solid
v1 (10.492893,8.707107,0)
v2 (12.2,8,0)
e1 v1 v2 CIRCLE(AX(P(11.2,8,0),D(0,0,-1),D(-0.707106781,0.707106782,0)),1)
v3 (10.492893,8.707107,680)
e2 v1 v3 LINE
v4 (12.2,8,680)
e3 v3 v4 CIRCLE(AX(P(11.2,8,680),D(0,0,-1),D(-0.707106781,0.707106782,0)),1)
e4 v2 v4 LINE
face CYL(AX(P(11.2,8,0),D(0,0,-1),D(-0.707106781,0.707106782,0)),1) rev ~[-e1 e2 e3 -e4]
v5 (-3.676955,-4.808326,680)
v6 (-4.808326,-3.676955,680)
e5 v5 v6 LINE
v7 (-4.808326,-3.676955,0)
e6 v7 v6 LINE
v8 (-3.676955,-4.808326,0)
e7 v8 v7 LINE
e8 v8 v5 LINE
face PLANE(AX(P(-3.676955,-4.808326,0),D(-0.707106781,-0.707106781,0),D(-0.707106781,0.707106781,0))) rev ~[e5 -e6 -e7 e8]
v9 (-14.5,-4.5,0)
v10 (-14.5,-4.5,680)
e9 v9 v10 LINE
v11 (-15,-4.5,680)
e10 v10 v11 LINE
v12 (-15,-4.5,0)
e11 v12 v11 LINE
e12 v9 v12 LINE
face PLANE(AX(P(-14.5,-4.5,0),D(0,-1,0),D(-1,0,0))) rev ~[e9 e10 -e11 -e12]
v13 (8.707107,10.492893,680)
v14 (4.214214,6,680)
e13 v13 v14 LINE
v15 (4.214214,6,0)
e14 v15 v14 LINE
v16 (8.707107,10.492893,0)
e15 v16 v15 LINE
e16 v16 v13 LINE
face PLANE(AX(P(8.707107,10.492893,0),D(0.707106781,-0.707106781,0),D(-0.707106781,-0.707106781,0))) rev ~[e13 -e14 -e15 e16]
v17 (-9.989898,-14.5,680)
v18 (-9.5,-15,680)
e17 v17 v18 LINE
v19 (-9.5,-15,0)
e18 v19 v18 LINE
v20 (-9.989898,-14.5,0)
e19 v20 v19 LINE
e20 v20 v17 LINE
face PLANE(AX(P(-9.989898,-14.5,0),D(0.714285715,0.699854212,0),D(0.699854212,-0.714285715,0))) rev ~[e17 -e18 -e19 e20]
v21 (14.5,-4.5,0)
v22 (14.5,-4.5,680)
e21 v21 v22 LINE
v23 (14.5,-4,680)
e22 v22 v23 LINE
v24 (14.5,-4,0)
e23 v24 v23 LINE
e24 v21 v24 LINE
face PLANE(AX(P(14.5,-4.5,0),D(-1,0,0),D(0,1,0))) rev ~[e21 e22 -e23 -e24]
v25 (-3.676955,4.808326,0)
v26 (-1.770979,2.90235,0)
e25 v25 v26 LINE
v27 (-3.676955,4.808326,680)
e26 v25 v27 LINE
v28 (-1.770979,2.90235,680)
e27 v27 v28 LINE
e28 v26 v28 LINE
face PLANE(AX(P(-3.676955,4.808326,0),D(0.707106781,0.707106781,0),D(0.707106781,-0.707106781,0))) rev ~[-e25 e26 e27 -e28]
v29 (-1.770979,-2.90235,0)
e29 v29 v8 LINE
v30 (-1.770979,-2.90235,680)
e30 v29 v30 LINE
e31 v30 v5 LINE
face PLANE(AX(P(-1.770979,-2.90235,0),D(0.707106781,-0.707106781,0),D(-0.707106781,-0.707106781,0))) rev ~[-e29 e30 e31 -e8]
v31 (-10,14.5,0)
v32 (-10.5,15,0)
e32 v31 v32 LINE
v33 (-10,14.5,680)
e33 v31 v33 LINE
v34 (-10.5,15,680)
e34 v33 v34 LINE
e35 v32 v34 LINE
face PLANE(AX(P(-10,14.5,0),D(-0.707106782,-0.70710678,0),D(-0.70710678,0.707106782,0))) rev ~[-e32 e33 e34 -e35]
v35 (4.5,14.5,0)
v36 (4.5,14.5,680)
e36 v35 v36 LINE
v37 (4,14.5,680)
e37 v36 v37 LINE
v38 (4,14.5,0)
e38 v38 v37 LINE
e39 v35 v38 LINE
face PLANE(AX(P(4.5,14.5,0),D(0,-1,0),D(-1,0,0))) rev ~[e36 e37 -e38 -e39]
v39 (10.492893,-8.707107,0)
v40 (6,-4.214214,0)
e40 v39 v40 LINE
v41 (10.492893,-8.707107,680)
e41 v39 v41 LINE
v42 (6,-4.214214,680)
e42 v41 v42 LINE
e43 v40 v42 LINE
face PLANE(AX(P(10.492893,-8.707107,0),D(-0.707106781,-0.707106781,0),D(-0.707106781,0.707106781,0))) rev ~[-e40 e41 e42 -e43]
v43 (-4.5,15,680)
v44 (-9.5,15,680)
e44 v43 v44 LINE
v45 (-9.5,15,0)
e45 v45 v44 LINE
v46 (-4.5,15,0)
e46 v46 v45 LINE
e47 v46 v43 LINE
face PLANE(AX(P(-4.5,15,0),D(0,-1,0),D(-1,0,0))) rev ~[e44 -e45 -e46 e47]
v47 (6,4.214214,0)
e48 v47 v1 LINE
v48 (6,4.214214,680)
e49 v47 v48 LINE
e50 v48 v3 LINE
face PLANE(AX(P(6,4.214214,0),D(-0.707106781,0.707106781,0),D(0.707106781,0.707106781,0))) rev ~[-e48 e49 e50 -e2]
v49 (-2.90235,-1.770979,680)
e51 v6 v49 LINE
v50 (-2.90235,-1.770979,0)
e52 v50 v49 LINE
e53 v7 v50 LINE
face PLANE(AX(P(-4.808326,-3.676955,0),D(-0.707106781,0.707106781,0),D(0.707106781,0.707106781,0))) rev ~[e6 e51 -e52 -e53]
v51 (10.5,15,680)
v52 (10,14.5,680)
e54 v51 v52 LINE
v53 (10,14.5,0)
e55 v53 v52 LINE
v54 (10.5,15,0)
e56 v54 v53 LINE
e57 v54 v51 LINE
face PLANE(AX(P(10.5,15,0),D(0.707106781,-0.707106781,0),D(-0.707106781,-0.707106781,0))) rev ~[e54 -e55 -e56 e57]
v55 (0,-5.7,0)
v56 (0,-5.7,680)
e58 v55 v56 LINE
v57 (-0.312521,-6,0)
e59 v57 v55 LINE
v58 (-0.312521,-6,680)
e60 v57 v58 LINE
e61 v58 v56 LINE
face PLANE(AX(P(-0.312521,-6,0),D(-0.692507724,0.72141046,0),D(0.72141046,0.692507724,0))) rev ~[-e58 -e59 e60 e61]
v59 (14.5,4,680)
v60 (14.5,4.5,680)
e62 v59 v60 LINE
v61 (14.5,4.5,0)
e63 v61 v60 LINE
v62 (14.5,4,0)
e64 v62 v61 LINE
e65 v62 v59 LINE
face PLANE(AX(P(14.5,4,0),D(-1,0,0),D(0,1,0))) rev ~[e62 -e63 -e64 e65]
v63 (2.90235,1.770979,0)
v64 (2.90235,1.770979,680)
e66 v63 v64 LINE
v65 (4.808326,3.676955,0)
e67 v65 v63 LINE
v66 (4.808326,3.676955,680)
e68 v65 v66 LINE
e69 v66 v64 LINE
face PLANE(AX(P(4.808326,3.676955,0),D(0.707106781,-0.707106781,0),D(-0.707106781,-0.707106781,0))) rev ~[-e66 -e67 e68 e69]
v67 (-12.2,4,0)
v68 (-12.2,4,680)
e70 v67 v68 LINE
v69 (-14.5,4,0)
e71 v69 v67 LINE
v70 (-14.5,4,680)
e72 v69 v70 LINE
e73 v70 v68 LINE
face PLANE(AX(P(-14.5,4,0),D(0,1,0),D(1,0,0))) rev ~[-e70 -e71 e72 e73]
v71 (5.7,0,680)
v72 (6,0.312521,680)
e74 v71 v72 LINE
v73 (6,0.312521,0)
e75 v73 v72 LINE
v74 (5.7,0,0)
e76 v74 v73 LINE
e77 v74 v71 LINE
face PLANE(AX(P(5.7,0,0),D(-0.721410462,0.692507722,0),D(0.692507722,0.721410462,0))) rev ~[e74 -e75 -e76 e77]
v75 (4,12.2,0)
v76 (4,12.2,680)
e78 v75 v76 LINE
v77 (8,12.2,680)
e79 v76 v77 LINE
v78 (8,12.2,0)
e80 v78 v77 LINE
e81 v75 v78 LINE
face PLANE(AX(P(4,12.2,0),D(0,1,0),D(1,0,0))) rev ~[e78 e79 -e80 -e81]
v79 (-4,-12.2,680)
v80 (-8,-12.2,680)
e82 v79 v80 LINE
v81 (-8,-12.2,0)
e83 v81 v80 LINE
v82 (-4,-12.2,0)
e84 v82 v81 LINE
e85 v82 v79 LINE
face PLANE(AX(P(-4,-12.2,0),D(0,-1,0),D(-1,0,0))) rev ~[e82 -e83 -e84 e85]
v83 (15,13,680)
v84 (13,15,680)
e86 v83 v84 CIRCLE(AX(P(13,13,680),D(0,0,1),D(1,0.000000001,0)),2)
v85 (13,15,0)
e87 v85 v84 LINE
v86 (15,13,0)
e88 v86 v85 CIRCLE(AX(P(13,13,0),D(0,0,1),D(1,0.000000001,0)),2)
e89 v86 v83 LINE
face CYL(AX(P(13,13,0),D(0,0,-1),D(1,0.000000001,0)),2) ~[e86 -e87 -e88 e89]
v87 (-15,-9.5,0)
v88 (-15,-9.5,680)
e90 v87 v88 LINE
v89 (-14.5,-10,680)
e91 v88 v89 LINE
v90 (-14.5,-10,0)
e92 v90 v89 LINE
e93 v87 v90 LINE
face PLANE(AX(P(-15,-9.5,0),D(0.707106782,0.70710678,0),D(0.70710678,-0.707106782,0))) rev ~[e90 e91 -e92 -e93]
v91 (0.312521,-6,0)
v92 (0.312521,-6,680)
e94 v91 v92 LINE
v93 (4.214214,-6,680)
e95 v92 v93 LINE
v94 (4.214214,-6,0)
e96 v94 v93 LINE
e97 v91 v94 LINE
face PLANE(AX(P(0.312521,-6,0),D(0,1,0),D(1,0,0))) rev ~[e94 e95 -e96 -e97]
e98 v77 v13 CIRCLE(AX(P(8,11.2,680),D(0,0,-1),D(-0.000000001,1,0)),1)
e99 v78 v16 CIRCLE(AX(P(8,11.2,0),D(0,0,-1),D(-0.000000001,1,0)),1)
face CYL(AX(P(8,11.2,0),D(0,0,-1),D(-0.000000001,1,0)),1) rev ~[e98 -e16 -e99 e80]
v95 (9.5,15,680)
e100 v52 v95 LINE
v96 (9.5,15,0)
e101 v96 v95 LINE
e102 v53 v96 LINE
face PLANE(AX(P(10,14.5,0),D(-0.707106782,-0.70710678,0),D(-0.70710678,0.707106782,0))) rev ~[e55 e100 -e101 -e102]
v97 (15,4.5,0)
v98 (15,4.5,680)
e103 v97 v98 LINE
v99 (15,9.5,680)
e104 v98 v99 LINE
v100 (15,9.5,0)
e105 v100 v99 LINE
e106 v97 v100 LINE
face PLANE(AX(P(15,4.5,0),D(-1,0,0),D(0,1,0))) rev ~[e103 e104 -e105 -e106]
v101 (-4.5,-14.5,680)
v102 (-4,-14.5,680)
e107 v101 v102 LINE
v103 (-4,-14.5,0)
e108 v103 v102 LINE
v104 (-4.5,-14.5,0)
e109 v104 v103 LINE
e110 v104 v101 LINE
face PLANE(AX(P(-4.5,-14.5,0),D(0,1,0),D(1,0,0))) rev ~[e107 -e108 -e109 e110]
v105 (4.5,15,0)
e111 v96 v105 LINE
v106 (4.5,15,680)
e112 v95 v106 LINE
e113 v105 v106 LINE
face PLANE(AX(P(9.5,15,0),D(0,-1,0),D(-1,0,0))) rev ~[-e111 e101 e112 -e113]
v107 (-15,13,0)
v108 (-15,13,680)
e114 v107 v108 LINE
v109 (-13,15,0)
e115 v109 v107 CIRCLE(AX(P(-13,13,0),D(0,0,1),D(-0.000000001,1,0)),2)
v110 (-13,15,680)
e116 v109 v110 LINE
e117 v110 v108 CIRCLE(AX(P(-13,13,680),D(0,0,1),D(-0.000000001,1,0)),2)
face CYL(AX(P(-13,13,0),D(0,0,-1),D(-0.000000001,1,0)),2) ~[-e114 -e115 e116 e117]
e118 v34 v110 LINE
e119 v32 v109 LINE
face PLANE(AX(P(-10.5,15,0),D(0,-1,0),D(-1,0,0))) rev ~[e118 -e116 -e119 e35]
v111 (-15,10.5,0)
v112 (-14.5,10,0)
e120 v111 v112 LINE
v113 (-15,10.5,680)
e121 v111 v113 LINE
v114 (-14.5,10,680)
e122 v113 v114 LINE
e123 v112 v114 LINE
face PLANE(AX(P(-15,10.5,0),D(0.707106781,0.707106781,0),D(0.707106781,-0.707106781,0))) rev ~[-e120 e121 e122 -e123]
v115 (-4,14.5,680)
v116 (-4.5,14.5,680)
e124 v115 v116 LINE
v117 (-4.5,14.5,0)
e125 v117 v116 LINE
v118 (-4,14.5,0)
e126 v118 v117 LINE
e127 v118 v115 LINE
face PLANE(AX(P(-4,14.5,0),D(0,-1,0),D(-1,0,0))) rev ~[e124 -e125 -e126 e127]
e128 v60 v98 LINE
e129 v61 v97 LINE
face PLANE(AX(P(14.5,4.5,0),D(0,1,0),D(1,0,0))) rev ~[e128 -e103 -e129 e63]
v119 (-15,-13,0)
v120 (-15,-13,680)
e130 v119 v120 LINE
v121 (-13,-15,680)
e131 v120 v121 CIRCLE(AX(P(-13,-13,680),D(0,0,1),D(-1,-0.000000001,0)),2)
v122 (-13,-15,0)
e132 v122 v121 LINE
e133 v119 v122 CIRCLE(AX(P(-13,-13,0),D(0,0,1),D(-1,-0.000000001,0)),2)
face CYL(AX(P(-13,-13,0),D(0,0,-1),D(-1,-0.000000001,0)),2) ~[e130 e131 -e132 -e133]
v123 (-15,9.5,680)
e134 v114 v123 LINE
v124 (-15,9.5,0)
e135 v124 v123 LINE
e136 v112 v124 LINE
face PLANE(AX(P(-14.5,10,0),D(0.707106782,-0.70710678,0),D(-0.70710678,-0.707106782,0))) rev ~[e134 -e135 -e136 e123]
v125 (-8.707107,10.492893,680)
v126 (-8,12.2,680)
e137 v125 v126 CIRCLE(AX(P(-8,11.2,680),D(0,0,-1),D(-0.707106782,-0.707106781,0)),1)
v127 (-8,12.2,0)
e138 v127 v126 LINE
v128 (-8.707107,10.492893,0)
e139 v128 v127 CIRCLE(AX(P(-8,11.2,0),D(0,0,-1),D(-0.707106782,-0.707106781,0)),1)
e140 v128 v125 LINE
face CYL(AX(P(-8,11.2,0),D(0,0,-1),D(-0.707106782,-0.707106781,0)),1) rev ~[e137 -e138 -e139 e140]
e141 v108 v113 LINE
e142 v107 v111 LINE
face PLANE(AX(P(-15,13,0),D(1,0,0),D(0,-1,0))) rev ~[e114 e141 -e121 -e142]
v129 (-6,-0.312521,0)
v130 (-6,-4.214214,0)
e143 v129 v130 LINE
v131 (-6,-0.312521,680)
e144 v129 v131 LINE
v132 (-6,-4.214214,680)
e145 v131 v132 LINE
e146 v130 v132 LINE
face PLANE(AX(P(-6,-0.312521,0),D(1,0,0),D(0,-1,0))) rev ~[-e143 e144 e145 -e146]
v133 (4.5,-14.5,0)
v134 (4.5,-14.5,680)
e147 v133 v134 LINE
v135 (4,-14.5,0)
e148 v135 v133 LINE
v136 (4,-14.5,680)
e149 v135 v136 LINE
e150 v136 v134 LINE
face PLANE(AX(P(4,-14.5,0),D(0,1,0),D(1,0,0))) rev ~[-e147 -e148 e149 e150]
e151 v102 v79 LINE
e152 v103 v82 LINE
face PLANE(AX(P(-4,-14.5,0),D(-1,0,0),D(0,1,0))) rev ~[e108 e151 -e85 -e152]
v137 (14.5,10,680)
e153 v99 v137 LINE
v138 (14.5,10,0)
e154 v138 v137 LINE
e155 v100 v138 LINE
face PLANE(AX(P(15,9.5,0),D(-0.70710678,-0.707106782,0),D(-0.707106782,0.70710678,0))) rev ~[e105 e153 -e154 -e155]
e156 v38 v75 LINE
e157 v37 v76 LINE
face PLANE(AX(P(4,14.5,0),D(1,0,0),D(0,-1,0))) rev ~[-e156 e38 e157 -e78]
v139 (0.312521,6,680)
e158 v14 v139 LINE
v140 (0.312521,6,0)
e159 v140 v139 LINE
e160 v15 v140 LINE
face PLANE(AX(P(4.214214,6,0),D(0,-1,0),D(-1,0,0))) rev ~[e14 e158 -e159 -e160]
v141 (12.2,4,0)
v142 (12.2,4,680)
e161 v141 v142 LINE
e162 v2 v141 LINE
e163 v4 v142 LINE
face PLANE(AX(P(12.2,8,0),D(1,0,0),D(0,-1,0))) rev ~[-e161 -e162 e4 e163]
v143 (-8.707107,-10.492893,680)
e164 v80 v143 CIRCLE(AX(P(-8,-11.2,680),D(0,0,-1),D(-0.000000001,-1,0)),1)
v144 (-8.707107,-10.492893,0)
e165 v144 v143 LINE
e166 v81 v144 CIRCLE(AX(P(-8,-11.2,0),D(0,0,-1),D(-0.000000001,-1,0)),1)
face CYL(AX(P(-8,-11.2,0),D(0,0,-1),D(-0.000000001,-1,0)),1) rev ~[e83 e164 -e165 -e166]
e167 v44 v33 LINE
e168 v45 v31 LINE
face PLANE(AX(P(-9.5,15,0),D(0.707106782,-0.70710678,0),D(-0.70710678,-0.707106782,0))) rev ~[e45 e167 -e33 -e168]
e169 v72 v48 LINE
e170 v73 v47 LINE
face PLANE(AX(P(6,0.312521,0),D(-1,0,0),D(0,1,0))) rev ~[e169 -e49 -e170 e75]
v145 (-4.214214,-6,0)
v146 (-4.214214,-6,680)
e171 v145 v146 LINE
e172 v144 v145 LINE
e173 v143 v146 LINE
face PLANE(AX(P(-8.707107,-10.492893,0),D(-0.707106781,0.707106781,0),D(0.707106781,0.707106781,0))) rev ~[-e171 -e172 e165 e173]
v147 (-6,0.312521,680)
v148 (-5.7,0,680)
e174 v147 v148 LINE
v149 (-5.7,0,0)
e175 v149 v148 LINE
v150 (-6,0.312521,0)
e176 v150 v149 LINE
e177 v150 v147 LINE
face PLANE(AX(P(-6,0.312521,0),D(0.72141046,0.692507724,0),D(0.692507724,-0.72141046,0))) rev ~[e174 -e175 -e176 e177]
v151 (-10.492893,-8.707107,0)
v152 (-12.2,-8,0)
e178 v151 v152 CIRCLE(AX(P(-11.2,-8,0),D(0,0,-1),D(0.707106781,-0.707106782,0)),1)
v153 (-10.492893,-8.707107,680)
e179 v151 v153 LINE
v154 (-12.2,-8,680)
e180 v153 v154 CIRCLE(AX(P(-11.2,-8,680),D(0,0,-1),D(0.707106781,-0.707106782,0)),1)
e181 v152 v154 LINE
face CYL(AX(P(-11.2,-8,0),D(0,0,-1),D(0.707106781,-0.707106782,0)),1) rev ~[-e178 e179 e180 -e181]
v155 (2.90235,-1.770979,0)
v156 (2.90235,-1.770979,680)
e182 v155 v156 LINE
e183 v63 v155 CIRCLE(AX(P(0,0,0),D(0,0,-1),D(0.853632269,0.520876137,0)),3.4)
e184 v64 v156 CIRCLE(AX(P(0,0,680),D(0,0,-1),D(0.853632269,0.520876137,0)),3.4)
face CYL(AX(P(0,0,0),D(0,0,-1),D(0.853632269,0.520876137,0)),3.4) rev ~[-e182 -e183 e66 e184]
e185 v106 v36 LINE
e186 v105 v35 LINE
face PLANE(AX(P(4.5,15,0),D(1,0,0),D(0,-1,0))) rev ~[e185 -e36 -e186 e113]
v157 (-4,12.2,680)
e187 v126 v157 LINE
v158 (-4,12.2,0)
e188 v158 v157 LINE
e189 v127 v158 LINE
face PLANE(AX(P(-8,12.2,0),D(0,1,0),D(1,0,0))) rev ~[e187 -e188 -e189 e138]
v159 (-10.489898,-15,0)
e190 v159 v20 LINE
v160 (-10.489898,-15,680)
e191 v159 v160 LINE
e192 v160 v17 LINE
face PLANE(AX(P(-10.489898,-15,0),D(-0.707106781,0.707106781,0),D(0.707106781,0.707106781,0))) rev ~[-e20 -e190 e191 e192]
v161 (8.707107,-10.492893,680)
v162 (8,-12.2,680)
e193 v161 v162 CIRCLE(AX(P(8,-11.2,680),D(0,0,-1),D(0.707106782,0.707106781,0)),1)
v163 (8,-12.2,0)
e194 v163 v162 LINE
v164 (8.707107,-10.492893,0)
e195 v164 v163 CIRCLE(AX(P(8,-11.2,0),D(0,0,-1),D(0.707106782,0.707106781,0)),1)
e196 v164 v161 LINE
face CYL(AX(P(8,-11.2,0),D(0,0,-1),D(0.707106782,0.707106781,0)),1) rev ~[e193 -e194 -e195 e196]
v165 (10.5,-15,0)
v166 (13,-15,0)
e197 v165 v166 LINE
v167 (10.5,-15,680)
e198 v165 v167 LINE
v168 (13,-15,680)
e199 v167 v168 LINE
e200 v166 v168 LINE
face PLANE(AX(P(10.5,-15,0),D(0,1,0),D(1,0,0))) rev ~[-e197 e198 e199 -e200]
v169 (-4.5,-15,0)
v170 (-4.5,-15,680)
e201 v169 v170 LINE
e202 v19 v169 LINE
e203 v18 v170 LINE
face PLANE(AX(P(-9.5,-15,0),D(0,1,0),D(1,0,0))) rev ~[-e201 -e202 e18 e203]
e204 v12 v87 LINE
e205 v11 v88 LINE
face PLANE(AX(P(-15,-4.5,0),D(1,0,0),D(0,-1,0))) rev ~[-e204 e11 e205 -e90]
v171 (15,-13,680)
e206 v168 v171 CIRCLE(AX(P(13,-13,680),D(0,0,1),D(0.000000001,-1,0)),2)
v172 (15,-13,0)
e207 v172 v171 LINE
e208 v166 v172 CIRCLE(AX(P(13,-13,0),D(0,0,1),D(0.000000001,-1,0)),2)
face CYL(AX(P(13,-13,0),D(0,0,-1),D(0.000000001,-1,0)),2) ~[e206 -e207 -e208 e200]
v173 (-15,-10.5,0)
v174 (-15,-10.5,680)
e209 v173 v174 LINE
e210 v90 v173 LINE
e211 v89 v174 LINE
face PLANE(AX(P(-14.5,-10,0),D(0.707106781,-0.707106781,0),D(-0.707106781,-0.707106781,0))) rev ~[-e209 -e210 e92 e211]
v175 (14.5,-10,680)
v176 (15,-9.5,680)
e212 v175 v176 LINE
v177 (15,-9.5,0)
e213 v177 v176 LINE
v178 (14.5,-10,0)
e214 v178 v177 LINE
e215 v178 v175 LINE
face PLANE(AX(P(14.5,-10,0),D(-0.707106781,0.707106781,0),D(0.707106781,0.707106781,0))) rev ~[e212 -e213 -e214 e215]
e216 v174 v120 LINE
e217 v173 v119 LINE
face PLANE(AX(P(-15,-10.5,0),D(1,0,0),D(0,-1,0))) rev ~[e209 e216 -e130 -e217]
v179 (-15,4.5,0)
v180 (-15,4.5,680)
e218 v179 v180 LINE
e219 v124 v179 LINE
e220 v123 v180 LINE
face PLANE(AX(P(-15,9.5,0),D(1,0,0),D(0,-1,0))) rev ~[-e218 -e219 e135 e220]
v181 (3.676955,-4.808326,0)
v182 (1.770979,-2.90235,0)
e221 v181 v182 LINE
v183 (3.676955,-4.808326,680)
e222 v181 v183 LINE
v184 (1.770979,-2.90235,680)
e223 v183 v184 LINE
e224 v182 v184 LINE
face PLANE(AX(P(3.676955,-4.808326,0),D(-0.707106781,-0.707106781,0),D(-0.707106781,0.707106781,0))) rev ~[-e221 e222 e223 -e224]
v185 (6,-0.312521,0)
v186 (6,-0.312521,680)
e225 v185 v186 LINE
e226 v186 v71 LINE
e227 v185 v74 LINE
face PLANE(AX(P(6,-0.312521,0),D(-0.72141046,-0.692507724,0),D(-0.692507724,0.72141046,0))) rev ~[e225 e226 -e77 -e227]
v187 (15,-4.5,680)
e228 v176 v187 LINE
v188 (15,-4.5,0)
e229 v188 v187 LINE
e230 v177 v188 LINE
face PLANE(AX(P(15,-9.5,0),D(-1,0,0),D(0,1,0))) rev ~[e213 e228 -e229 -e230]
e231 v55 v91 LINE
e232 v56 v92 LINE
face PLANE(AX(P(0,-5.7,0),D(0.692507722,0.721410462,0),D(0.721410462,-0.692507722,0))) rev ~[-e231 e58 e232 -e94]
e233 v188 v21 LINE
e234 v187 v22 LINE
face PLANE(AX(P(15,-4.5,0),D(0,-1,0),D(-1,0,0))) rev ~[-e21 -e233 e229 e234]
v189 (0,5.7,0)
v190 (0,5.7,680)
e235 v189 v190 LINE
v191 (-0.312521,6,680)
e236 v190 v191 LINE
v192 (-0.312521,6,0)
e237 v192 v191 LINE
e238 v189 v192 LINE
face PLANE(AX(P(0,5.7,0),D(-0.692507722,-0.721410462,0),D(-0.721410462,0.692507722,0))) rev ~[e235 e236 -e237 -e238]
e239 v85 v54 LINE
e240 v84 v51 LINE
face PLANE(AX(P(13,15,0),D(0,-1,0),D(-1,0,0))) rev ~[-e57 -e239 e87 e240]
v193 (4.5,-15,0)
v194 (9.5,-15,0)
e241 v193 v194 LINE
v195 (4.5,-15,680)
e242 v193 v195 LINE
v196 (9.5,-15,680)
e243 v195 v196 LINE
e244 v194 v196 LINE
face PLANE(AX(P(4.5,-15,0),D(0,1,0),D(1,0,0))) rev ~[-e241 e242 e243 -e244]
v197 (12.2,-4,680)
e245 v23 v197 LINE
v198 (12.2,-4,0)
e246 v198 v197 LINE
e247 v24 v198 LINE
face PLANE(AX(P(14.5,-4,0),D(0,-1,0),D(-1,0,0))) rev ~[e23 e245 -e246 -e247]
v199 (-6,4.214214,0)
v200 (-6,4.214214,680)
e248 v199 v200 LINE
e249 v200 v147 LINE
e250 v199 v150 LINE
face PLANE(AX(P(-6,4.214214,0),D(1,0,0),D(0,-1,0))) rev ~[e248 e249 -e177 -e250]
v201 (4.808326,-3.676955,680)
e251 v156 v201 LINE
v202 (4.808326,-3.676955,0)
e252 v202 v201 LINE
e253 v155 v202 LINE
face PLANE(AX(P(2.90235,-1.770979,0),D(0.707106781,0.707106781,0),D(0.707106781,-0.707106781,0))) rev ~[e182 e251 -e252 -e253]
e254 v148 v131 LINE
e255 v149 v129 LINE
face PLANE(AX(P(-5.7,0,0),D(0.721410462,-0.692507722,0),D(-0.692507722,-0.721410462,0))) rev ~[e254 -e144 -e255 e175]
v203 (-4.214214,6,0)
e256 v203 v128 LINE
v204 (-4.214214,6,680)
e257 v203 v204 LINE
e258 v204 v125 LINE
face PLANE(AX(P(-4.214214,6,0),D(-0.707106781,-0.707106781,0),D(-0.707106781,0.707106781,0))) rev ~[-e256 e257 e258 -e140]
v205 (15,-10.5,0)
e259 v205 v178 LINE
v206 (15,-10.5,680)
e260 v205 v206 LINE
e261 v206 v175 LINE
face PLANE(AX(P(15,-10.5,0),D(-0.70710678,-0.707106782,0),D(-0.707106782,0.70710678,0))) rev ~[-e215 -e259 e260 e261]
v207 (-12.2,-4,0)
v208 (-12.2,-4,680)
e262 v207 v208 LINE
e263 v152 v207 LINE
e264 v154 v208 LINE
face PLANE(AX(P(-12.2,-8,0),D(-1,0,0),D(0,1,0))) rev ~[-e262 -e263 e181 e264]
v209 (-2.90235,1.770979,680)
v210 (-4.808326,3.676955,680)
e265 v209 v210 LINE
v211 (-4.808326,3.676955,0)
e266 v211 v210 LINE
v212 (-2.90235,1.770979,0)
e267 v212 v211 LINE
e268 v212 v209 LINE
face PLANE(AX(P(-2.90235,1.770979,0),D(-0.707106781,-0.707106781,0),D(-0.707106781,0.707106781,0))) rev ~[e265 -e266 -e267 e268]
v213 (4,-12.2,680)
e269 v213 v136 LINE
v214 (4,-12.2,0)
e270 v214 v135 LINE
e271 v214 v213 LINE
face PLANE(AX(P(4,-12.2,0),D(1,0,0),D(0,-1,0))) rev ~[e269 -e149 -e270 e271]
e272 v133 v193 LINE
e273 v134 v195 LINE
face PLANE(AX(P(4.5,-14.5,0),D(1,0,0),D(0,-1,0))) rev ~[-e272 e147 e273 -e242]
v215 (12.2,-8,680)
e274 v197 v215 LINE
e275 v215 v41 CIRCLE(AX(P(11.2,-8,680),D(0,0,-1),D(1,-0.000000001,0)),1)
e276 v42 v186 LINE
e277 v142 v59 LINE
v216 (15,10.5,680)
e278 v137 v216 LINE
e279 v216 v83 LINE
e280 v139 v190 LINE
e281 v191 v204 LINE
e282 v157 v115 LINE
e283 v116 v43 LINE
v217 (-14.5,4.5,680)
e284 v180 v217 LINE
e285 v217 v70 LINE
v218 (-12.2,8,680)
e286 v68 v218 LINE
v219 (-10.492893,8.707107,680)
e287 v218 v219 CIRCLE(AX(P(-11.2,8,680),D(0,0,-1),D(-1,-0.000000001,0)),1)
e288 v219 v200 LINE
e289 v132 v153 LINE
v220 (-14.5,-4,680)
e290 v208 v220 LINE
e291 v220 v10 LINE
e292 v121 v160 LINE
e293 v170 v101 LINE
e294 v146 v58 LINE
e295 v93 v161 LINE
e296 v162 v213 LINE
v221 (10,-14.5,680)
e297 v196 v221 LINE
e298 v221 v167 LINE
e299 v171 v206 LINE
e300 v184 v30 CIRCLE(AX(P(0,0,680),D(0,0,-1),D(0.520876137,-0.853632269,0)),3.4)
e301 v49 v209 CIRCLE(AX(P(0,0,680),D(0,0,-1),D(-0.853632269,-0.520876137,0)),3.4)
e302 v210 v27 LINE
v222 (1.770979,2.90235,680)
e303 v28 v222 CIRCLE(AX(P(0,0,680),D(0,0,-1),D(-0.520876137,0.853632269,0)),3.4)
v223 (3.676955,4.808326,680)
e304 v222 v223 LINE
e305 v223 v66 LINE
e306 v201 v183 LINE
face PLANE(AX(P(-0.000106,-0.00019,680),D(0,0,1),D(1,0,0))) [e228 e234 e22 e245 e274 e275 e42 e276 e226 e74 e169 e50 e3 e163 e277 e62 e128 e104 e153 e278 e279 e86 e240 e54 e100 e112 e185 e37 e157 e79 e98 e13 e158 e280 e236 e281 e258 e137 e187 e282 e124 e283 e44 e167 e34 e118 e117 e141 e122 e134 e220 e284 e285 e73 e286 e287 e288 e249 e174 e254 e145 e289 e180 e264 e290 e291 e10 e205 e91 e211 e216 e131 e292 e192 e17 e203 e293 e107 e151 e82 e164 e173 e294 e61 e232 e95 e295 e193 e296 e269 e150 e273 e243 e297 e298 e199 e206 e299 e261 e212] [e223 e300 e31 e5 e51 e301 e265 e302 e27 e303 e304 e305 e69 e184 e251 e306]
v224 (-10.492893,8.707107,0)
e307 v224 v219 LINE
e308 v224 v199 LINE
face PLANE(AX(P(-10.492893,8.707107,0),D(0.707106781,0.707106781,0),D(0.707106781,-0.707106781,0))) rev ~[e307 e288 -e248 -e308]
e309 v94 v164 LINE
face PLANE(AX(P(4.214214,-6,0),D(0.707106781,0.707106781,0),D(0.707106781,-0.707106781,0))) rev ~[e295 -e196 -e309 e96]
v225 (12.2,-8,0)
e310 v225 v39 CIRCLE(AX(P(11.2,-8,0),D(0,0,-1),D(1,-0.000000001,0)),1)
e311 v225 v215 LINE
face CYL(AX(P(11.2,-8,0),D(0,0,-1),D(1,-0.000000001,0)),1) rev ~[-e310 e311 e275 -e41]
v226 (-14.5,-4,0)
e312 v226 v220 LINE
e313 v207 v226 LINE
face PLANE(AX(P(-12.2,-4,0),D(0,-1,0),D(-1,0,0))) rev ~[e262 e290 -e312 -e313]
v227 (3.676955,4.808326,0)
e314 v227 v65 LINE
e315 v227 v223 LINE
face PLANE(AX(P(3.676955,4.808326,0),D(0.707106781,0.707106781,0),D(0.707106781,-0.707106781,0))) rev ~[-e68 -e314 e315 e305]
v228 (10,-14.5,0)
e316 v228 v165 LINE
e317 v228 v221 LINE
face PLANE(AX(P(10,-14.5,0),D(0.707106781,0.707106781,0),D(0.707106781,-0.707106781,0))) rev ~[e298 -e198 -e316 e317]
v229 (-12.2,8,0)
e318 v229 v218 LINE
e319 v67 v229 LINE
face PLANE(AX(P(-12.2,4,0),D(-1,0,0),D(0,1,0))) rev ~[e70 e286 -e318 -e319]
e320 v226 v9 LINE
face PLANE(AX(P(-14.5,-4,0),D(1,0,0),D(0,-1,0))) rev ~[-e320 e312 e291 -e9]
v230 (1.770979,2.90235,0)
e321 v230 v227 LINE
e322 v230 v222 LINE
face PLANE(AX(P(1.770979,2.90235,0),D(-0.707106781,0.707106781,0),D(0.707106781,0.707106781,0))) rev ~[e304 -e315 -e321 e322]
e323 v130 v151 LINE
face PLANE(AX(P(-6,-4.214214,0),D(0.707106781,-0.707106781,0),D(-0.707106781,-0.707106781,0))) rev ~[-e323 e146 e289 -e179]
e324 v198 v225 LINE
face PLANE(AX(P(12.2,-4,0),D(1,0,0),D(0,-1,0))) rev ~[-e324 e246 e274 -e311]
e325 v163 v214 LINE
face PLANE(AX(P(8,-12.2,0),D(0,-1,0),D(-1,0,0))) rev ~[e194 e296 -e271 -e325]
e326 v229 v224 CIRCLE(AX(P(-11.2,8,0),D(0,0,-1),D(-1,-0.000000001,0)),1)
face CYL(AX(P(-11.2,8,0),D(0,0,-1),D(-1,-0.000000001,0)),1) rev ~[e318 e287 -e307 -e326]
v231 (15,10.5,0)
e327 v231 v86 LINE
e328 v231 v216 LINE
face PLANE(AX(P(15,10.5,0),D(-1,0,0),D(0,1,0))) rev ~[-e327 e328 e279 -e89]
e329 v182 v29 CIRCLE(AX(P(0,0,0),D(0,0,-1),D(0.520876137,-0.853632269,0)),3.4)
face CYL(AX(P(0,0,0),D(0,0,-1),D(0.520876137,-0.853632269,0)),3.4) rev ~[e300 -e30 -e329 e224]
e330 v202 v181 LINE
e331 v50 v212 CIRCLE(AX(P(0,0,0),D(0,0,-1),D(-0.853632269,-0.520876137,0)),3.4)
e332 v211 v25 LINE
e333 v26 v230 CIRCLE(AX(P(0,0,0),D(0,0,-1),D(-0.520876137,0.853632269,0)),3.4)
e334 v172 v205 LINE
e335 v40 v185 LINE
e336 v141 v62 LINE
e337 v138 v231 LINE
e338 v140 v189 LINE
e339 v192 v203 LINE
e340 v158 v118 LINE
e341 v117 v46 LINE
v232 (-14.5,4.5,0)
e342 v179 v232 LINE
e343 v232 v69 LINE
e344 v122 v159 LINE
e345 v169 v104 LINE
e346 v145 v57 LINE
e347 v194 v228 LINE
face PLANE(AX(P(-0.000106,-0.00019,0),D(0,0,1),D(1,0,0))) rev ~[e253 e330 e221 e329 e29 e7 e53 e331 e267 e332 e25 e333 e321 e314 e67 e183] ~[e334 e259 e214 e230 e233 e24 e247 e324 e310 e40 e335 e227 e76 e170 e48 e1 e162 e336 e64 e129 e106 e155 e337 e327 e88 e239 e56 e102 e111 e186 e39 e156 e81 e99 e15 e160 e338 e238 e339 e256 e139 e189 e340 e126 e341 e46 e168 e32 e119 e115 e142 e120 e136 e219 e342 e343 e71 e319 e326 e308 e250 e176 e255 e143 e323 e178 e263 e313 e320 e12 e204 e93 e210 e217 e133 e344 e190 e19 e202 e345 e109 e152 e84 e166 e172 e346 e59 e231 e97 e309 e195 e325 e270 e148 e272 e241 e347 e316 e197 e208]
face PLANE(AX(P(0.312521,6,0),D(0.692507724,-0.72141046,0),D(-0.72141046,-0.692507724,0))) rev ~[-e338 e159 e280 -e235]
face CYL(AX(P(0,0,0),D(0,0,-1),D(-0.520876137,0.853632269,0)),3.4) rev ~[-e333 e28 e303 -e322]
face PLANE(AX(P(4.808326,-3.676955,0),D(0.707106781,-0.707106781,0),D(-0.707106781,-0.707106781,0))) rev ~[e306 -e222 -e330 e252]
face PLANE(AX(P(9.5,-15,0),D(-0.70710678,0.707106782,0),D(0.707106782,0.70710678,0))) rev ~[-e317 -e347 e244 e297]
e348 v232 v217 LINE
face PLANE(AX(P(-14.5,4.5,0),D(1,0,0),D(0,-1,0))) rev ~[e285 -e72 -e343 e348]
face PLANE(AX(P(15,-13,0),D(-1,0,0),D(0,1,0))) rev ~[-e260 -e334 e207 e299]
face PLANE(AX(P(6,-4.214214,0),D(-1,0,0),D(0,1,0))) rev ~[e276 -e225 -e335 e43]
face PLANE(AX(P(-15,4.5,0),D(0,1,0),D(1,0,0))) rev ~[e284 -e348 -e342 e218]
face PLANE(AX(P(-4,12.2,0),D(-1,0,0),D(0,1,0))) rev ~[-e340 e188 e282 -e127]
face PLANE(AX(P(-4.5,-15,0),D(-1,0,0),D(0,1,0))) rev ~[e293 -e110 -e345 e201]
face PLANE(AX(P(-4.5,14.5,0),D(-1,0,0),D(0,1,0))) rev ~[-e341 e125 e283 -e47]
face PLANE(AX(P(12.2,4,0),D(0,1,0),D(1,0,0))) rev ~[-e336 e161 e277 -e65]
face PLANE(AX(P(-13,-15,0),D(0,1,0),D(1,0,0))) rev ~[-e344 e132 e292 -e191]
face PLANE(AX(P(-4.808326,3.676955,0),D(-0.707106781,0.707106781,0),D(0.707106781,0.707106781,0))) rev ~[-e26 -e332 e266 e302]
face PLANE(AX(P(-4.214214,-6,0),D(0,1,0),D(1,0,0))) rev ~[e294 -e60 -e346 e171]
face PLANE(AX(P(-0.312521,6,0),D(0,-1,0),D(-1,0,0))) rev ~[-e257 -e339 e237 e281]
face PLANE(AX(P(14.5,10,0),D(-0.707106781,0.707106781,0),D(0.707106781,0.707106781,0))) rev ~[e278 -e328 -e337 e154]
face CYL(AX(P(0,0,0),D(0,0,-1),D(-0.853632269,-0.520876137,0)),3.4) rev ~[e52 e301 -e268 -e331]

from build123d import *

# Parameters (mm, degrees)
BOSS_EXTRUDE1_DEPTH = 680


with BuildPart() as part:
    # Sketch1 → Boss-Extrude1 (new body)
    with BuildSketch(Plane.XY):
        with BuildLine():
            Line((12.999999999, 14.999999999), (10.499999999, 14.999999999))
            Line((10.499999999, 14.999999999), (9.999999999, 14.499999999))
            Line((9.999999999, 14.499999999), (9.5, 14.999999999))
            Line((9.5, 14.999999999), (4.5, 14.999999999))
            Line((4.5, 14.999999999), (4.5, 14.5))
            Line((4.5, 14.5), (4, 14.5))
            Line((4, 14.5), (4, 12.200000005))
            Line((4, 12.200000005), (7.999999994, 12.200000005))
            ThreePointArc((7.999999994, 12.200000005), (8.923879532, 11.582683434), (8.707106779, 10.492893215))
            Line((8.707106779, 10.492893215), (4.214213564, 6))
            Line((4.214213564, 6), (0.312520901, 6))
            Line((0.312520901, 6), (0, 5.7))
            Line((0, 5.7), (-0.312520903, 6))
            Line((-0.312520903, 6), (-4.214213564, 6))
            Line((-4.214213564, 6), (-8.70710678, 10.492893215))
            ThreePointArc((-8.70710678, 10.492893215), (-8.923879532, 11.582683434), (-7.999999995, 12.200000005))
            Line((-7.999999995, 12.200000005), (-4, 12.200000005))
            Line((-4, 12.200000005), (-4, 14.5))
            Line((-4, 14.5), (-4.5, 14.5))
            Line((-4.5, 14.5), (-4.5, 14.999999999))
            Line((-4.5, 14.999999999), (-9.500000003, 14.999999999))
            Line((-9.500000003, 14.999999999), (-10.000000002, 14.499999999))
            Line((-10.000000002, 14.499999999), (-10.500000001, 14.999999999))
            Line((-10.500000001, 14.999999999), (-13, 14.999999999))
            ThreePointArc((-13, 14.999999999), (-14.414213562, 14.414213561), (-15, 12.999999999))
            Line((-15, 12.999999999), (-15, 10.5))
            Line((-15, 10.5), (-14.500000001, 10.000000001))
            Line((-14.500000001, 10.000000001), (-15, 9.500000001))
            Line((-15, 9.500000001), (-15, 4.5))
            Line((-15, 4.5), (-14.5, 4.5))
            Line((-14.5, 4.5), (-14.5, 4))
            Line((-14.5, 4), (-12.200000005, 4))
            Line((-12.200000005, 4), (-12.200000005, 7.999999994))
            ThreePointArc((-12.200000005, 7.999999994), (-11.582683434, 8.923879532), (-10.492893215, 8.707106779))
            Line((-10.492893215, 8.707106779), (-6, 4.214213564))
            Line((-6, 4.214213564), (-6, 0.312520901))
            Line((-6, 0.312520901), (-5.7, 0))
            Line((-5.7, 0), (-6, -0.312520903))
            Line((-6, -0.312520903), (-6, -4.214213564))
            Line((-6, -4.214213564), (-10.492893215, -8.70710678))
            ThreePointArc((-10.492893215, -8.70710678), (-11.582683434, -8.923879532), (-12.200000005, -7.999999995))
            Line((-12.200000005, -7.999999995), (-12.200000005, -4))
            Line((-12.200000005, -4), (-14.5, -4))
            Line((-14.5, -4), (-14.5, -4.5))
            Line((-14.5, -4.5), (-15, -4.5))
            Line((-15, -4.5), (-15, -9.500000001))
            Line((-15, -9.500000001), (-14.500000001, -10.000000001))
            Line((-14.500000001, -10.000000001), (-15, -10.5))
            Line((-15, -10.5), (-15, -13))
            ThreePointArc((-15, -13), (-14.414213562, -14.414213562), (-13, -15))
            Line((-13, -15), (-10.489897949, -15))
            Line((-10.489897949, -15), (-9.989897949, -14.5))
            Line((-9.989897949, -14.5), (-9.500000001, -15))
            Line((-9.500000001, -15), (-4.5, -15))
            Line((-4.5, -15), (-4.5, -14.5))
            Line((-4.5, -14.5), (-4, -14.5))
            Line((-4, -14.5), (-4, -12.200000005))
            Line((-4, -12.200000005), (-7.999999995, -12.200000005))
            ThreePointArc((-7.999999995, -12.200000005), (-8.923879532, -11.582683434), (-8.70710678, -10.492893215))
            Line((-8.70710678, -10.492893215), (-4.214213564, -6))
            Line((-4.214213564, -6), (-0.312520901, -6))
            Line((-0.312520901, -6), (0, -5.7))
            Line((0, -5.7), (0.312520903, -6))
            Line((0.312520903, -6), (4.214213564, -6))
            Line((4.214213564, -6), (8.70710678, -10.492893215))
            ThreePointArc((8.70710678, -10.492893215), (8.923879532, -11.582683434), (7.999999995, -12.200000005))
            Line((7.999999995, -12.200000005), (4, -12.200000005))
            Line((4, -12.200000005), (4, -14.5))
            Line((4, -14.5), (4.5, -14.5))
            Line((4.5, -14.5), (4.5, -15))
            Line((4.5, -15), (9.500000001, -15))
            Line((9.500000001, -15), (10.000000001, -14.500000001))
            Line((10.000000001, -14.500000001), (10.5, -15))
            Line((10.5, -15), (12.999999999, -15))
            ThreePointArc((12.999999999, -15), (14.414213561, -14.414213562), (14.999999999, -13))
            Line((14.999999999, -13), (14.999999999, -10.500000001))
            Line((14.999999999, -10.500000001), (14.499999999, -10.000000002))
            Line((14.499999999, -10.000000002), (14.999999999, -9.500000002))
            Line((14.999999999, -9.500000002), (14.999999999, -4.5))
            Line((14.999999999, -4.5), (14.5, -4.5))
            Line((14.5, -4.5), (14.5, -4))
            Line((14.5, -4), (12.200000005, -4))
            Line((12.200000005, -4), (12.200000005, -7.999999995))
            ThreePointArc((12.200000005, -7.999999995), (11.582683434, -8.923879532), (10.492893215, -8.70710678))
            Line((10.492893215, -8.70710678), (6, -4.214213564))
            Line((6, -4.214213564), (6, -0.312520901))
            Line((6, -0.312520901), (5.7, 0))
            Line((5.7, 0), (6, 0.312520903))
            Line((6, 0.312520903), (6, 4.214213564))
            Line((6, 4.214213564), (10.492893215, 8.70710678))
            ThreePointArc((10.492893215, 8.70710678), (11.582683434, 8.923879532), (12.200000005, 7.999999995))
            Line((12.200000005, 7.999999995), (12.200000005, 4))
            Line((12.200000005, 4), (14.5, 4))
            Line((14.5, 4), (14.5, 4.5))
            Line((14.5, 4.5), (14.999999999, 4.5))
            Line((14.999999999, 4.5), (14.999999999, 9.5))
            Line((14.999999999, 9.5), (14.499999999, 9.999999999))
            Line((14.499999999, 9.999999999), (14.999999999, 10.499999999))
            Line((14.999999999, 10.499999999), (14.999999999, 12.999999999))
            ThreePointArc((14.999999999, 12.999999999), (14.414213561, 14.414213561), (12.999999999, 14.999999999))
        make_face()
        with BuildLine():
            Line((-2.902349714, 1.770978864), (-4.808326112, 3.676955262))
            Line((-4.808326112, 3.676955262), (-3.676955262, 4.808326112))
            Line((-3.676955262, 4.808326112), (-1.770978864, 2.902349714))
            ThreePointArc((-1.770978864, 2.902349714), (0, 3.4), (1.770978864, 2.902349714))
            Line((1.770978864, 2.902349714), (3.676955262, 4.808326112))
            Line((3.676955262, 4.808326112), (4.808326112, 3.676955262))
            Line((4.808326112, 3.676955262), (2.902349714, 1.770978864))
            ThreePointArc((2.902349714, 1.770978864), (3.4, 0), (2.902349714, -1.770978864))
            Line((2.902349714, -1.770978864), (4.808326112, -3.676955262))
            Line((4.808326112, -3.676955262), (3.676955262, -4.808326112))
            Line((3.676955262, -4.808326112), (1.770978864, -2.902349714))
            ThreePointArc((1.770978864, -2.902349714), (0, -3.4), (-1.770978864, -2.902349714))
            Line((-1.770978864, -2.902349714), (-3.676955262, -4.808326112))
            Line((-3.676955262, -4.808326112), (-4.808326112, -3.676955262))
            Line((-4.808326112, -3.676955262), (-2.902349714, -1.770978864))
            ThreePointArc((-2.902349714, -1.770978864), (-3.4, 0), (-2.902349714, 1.770978864))
        make_face(mode=Mode.SUBTRACT)
    extrude(amount=BOSS_EXTRUDE1_DEPTH)


solid = part.part
